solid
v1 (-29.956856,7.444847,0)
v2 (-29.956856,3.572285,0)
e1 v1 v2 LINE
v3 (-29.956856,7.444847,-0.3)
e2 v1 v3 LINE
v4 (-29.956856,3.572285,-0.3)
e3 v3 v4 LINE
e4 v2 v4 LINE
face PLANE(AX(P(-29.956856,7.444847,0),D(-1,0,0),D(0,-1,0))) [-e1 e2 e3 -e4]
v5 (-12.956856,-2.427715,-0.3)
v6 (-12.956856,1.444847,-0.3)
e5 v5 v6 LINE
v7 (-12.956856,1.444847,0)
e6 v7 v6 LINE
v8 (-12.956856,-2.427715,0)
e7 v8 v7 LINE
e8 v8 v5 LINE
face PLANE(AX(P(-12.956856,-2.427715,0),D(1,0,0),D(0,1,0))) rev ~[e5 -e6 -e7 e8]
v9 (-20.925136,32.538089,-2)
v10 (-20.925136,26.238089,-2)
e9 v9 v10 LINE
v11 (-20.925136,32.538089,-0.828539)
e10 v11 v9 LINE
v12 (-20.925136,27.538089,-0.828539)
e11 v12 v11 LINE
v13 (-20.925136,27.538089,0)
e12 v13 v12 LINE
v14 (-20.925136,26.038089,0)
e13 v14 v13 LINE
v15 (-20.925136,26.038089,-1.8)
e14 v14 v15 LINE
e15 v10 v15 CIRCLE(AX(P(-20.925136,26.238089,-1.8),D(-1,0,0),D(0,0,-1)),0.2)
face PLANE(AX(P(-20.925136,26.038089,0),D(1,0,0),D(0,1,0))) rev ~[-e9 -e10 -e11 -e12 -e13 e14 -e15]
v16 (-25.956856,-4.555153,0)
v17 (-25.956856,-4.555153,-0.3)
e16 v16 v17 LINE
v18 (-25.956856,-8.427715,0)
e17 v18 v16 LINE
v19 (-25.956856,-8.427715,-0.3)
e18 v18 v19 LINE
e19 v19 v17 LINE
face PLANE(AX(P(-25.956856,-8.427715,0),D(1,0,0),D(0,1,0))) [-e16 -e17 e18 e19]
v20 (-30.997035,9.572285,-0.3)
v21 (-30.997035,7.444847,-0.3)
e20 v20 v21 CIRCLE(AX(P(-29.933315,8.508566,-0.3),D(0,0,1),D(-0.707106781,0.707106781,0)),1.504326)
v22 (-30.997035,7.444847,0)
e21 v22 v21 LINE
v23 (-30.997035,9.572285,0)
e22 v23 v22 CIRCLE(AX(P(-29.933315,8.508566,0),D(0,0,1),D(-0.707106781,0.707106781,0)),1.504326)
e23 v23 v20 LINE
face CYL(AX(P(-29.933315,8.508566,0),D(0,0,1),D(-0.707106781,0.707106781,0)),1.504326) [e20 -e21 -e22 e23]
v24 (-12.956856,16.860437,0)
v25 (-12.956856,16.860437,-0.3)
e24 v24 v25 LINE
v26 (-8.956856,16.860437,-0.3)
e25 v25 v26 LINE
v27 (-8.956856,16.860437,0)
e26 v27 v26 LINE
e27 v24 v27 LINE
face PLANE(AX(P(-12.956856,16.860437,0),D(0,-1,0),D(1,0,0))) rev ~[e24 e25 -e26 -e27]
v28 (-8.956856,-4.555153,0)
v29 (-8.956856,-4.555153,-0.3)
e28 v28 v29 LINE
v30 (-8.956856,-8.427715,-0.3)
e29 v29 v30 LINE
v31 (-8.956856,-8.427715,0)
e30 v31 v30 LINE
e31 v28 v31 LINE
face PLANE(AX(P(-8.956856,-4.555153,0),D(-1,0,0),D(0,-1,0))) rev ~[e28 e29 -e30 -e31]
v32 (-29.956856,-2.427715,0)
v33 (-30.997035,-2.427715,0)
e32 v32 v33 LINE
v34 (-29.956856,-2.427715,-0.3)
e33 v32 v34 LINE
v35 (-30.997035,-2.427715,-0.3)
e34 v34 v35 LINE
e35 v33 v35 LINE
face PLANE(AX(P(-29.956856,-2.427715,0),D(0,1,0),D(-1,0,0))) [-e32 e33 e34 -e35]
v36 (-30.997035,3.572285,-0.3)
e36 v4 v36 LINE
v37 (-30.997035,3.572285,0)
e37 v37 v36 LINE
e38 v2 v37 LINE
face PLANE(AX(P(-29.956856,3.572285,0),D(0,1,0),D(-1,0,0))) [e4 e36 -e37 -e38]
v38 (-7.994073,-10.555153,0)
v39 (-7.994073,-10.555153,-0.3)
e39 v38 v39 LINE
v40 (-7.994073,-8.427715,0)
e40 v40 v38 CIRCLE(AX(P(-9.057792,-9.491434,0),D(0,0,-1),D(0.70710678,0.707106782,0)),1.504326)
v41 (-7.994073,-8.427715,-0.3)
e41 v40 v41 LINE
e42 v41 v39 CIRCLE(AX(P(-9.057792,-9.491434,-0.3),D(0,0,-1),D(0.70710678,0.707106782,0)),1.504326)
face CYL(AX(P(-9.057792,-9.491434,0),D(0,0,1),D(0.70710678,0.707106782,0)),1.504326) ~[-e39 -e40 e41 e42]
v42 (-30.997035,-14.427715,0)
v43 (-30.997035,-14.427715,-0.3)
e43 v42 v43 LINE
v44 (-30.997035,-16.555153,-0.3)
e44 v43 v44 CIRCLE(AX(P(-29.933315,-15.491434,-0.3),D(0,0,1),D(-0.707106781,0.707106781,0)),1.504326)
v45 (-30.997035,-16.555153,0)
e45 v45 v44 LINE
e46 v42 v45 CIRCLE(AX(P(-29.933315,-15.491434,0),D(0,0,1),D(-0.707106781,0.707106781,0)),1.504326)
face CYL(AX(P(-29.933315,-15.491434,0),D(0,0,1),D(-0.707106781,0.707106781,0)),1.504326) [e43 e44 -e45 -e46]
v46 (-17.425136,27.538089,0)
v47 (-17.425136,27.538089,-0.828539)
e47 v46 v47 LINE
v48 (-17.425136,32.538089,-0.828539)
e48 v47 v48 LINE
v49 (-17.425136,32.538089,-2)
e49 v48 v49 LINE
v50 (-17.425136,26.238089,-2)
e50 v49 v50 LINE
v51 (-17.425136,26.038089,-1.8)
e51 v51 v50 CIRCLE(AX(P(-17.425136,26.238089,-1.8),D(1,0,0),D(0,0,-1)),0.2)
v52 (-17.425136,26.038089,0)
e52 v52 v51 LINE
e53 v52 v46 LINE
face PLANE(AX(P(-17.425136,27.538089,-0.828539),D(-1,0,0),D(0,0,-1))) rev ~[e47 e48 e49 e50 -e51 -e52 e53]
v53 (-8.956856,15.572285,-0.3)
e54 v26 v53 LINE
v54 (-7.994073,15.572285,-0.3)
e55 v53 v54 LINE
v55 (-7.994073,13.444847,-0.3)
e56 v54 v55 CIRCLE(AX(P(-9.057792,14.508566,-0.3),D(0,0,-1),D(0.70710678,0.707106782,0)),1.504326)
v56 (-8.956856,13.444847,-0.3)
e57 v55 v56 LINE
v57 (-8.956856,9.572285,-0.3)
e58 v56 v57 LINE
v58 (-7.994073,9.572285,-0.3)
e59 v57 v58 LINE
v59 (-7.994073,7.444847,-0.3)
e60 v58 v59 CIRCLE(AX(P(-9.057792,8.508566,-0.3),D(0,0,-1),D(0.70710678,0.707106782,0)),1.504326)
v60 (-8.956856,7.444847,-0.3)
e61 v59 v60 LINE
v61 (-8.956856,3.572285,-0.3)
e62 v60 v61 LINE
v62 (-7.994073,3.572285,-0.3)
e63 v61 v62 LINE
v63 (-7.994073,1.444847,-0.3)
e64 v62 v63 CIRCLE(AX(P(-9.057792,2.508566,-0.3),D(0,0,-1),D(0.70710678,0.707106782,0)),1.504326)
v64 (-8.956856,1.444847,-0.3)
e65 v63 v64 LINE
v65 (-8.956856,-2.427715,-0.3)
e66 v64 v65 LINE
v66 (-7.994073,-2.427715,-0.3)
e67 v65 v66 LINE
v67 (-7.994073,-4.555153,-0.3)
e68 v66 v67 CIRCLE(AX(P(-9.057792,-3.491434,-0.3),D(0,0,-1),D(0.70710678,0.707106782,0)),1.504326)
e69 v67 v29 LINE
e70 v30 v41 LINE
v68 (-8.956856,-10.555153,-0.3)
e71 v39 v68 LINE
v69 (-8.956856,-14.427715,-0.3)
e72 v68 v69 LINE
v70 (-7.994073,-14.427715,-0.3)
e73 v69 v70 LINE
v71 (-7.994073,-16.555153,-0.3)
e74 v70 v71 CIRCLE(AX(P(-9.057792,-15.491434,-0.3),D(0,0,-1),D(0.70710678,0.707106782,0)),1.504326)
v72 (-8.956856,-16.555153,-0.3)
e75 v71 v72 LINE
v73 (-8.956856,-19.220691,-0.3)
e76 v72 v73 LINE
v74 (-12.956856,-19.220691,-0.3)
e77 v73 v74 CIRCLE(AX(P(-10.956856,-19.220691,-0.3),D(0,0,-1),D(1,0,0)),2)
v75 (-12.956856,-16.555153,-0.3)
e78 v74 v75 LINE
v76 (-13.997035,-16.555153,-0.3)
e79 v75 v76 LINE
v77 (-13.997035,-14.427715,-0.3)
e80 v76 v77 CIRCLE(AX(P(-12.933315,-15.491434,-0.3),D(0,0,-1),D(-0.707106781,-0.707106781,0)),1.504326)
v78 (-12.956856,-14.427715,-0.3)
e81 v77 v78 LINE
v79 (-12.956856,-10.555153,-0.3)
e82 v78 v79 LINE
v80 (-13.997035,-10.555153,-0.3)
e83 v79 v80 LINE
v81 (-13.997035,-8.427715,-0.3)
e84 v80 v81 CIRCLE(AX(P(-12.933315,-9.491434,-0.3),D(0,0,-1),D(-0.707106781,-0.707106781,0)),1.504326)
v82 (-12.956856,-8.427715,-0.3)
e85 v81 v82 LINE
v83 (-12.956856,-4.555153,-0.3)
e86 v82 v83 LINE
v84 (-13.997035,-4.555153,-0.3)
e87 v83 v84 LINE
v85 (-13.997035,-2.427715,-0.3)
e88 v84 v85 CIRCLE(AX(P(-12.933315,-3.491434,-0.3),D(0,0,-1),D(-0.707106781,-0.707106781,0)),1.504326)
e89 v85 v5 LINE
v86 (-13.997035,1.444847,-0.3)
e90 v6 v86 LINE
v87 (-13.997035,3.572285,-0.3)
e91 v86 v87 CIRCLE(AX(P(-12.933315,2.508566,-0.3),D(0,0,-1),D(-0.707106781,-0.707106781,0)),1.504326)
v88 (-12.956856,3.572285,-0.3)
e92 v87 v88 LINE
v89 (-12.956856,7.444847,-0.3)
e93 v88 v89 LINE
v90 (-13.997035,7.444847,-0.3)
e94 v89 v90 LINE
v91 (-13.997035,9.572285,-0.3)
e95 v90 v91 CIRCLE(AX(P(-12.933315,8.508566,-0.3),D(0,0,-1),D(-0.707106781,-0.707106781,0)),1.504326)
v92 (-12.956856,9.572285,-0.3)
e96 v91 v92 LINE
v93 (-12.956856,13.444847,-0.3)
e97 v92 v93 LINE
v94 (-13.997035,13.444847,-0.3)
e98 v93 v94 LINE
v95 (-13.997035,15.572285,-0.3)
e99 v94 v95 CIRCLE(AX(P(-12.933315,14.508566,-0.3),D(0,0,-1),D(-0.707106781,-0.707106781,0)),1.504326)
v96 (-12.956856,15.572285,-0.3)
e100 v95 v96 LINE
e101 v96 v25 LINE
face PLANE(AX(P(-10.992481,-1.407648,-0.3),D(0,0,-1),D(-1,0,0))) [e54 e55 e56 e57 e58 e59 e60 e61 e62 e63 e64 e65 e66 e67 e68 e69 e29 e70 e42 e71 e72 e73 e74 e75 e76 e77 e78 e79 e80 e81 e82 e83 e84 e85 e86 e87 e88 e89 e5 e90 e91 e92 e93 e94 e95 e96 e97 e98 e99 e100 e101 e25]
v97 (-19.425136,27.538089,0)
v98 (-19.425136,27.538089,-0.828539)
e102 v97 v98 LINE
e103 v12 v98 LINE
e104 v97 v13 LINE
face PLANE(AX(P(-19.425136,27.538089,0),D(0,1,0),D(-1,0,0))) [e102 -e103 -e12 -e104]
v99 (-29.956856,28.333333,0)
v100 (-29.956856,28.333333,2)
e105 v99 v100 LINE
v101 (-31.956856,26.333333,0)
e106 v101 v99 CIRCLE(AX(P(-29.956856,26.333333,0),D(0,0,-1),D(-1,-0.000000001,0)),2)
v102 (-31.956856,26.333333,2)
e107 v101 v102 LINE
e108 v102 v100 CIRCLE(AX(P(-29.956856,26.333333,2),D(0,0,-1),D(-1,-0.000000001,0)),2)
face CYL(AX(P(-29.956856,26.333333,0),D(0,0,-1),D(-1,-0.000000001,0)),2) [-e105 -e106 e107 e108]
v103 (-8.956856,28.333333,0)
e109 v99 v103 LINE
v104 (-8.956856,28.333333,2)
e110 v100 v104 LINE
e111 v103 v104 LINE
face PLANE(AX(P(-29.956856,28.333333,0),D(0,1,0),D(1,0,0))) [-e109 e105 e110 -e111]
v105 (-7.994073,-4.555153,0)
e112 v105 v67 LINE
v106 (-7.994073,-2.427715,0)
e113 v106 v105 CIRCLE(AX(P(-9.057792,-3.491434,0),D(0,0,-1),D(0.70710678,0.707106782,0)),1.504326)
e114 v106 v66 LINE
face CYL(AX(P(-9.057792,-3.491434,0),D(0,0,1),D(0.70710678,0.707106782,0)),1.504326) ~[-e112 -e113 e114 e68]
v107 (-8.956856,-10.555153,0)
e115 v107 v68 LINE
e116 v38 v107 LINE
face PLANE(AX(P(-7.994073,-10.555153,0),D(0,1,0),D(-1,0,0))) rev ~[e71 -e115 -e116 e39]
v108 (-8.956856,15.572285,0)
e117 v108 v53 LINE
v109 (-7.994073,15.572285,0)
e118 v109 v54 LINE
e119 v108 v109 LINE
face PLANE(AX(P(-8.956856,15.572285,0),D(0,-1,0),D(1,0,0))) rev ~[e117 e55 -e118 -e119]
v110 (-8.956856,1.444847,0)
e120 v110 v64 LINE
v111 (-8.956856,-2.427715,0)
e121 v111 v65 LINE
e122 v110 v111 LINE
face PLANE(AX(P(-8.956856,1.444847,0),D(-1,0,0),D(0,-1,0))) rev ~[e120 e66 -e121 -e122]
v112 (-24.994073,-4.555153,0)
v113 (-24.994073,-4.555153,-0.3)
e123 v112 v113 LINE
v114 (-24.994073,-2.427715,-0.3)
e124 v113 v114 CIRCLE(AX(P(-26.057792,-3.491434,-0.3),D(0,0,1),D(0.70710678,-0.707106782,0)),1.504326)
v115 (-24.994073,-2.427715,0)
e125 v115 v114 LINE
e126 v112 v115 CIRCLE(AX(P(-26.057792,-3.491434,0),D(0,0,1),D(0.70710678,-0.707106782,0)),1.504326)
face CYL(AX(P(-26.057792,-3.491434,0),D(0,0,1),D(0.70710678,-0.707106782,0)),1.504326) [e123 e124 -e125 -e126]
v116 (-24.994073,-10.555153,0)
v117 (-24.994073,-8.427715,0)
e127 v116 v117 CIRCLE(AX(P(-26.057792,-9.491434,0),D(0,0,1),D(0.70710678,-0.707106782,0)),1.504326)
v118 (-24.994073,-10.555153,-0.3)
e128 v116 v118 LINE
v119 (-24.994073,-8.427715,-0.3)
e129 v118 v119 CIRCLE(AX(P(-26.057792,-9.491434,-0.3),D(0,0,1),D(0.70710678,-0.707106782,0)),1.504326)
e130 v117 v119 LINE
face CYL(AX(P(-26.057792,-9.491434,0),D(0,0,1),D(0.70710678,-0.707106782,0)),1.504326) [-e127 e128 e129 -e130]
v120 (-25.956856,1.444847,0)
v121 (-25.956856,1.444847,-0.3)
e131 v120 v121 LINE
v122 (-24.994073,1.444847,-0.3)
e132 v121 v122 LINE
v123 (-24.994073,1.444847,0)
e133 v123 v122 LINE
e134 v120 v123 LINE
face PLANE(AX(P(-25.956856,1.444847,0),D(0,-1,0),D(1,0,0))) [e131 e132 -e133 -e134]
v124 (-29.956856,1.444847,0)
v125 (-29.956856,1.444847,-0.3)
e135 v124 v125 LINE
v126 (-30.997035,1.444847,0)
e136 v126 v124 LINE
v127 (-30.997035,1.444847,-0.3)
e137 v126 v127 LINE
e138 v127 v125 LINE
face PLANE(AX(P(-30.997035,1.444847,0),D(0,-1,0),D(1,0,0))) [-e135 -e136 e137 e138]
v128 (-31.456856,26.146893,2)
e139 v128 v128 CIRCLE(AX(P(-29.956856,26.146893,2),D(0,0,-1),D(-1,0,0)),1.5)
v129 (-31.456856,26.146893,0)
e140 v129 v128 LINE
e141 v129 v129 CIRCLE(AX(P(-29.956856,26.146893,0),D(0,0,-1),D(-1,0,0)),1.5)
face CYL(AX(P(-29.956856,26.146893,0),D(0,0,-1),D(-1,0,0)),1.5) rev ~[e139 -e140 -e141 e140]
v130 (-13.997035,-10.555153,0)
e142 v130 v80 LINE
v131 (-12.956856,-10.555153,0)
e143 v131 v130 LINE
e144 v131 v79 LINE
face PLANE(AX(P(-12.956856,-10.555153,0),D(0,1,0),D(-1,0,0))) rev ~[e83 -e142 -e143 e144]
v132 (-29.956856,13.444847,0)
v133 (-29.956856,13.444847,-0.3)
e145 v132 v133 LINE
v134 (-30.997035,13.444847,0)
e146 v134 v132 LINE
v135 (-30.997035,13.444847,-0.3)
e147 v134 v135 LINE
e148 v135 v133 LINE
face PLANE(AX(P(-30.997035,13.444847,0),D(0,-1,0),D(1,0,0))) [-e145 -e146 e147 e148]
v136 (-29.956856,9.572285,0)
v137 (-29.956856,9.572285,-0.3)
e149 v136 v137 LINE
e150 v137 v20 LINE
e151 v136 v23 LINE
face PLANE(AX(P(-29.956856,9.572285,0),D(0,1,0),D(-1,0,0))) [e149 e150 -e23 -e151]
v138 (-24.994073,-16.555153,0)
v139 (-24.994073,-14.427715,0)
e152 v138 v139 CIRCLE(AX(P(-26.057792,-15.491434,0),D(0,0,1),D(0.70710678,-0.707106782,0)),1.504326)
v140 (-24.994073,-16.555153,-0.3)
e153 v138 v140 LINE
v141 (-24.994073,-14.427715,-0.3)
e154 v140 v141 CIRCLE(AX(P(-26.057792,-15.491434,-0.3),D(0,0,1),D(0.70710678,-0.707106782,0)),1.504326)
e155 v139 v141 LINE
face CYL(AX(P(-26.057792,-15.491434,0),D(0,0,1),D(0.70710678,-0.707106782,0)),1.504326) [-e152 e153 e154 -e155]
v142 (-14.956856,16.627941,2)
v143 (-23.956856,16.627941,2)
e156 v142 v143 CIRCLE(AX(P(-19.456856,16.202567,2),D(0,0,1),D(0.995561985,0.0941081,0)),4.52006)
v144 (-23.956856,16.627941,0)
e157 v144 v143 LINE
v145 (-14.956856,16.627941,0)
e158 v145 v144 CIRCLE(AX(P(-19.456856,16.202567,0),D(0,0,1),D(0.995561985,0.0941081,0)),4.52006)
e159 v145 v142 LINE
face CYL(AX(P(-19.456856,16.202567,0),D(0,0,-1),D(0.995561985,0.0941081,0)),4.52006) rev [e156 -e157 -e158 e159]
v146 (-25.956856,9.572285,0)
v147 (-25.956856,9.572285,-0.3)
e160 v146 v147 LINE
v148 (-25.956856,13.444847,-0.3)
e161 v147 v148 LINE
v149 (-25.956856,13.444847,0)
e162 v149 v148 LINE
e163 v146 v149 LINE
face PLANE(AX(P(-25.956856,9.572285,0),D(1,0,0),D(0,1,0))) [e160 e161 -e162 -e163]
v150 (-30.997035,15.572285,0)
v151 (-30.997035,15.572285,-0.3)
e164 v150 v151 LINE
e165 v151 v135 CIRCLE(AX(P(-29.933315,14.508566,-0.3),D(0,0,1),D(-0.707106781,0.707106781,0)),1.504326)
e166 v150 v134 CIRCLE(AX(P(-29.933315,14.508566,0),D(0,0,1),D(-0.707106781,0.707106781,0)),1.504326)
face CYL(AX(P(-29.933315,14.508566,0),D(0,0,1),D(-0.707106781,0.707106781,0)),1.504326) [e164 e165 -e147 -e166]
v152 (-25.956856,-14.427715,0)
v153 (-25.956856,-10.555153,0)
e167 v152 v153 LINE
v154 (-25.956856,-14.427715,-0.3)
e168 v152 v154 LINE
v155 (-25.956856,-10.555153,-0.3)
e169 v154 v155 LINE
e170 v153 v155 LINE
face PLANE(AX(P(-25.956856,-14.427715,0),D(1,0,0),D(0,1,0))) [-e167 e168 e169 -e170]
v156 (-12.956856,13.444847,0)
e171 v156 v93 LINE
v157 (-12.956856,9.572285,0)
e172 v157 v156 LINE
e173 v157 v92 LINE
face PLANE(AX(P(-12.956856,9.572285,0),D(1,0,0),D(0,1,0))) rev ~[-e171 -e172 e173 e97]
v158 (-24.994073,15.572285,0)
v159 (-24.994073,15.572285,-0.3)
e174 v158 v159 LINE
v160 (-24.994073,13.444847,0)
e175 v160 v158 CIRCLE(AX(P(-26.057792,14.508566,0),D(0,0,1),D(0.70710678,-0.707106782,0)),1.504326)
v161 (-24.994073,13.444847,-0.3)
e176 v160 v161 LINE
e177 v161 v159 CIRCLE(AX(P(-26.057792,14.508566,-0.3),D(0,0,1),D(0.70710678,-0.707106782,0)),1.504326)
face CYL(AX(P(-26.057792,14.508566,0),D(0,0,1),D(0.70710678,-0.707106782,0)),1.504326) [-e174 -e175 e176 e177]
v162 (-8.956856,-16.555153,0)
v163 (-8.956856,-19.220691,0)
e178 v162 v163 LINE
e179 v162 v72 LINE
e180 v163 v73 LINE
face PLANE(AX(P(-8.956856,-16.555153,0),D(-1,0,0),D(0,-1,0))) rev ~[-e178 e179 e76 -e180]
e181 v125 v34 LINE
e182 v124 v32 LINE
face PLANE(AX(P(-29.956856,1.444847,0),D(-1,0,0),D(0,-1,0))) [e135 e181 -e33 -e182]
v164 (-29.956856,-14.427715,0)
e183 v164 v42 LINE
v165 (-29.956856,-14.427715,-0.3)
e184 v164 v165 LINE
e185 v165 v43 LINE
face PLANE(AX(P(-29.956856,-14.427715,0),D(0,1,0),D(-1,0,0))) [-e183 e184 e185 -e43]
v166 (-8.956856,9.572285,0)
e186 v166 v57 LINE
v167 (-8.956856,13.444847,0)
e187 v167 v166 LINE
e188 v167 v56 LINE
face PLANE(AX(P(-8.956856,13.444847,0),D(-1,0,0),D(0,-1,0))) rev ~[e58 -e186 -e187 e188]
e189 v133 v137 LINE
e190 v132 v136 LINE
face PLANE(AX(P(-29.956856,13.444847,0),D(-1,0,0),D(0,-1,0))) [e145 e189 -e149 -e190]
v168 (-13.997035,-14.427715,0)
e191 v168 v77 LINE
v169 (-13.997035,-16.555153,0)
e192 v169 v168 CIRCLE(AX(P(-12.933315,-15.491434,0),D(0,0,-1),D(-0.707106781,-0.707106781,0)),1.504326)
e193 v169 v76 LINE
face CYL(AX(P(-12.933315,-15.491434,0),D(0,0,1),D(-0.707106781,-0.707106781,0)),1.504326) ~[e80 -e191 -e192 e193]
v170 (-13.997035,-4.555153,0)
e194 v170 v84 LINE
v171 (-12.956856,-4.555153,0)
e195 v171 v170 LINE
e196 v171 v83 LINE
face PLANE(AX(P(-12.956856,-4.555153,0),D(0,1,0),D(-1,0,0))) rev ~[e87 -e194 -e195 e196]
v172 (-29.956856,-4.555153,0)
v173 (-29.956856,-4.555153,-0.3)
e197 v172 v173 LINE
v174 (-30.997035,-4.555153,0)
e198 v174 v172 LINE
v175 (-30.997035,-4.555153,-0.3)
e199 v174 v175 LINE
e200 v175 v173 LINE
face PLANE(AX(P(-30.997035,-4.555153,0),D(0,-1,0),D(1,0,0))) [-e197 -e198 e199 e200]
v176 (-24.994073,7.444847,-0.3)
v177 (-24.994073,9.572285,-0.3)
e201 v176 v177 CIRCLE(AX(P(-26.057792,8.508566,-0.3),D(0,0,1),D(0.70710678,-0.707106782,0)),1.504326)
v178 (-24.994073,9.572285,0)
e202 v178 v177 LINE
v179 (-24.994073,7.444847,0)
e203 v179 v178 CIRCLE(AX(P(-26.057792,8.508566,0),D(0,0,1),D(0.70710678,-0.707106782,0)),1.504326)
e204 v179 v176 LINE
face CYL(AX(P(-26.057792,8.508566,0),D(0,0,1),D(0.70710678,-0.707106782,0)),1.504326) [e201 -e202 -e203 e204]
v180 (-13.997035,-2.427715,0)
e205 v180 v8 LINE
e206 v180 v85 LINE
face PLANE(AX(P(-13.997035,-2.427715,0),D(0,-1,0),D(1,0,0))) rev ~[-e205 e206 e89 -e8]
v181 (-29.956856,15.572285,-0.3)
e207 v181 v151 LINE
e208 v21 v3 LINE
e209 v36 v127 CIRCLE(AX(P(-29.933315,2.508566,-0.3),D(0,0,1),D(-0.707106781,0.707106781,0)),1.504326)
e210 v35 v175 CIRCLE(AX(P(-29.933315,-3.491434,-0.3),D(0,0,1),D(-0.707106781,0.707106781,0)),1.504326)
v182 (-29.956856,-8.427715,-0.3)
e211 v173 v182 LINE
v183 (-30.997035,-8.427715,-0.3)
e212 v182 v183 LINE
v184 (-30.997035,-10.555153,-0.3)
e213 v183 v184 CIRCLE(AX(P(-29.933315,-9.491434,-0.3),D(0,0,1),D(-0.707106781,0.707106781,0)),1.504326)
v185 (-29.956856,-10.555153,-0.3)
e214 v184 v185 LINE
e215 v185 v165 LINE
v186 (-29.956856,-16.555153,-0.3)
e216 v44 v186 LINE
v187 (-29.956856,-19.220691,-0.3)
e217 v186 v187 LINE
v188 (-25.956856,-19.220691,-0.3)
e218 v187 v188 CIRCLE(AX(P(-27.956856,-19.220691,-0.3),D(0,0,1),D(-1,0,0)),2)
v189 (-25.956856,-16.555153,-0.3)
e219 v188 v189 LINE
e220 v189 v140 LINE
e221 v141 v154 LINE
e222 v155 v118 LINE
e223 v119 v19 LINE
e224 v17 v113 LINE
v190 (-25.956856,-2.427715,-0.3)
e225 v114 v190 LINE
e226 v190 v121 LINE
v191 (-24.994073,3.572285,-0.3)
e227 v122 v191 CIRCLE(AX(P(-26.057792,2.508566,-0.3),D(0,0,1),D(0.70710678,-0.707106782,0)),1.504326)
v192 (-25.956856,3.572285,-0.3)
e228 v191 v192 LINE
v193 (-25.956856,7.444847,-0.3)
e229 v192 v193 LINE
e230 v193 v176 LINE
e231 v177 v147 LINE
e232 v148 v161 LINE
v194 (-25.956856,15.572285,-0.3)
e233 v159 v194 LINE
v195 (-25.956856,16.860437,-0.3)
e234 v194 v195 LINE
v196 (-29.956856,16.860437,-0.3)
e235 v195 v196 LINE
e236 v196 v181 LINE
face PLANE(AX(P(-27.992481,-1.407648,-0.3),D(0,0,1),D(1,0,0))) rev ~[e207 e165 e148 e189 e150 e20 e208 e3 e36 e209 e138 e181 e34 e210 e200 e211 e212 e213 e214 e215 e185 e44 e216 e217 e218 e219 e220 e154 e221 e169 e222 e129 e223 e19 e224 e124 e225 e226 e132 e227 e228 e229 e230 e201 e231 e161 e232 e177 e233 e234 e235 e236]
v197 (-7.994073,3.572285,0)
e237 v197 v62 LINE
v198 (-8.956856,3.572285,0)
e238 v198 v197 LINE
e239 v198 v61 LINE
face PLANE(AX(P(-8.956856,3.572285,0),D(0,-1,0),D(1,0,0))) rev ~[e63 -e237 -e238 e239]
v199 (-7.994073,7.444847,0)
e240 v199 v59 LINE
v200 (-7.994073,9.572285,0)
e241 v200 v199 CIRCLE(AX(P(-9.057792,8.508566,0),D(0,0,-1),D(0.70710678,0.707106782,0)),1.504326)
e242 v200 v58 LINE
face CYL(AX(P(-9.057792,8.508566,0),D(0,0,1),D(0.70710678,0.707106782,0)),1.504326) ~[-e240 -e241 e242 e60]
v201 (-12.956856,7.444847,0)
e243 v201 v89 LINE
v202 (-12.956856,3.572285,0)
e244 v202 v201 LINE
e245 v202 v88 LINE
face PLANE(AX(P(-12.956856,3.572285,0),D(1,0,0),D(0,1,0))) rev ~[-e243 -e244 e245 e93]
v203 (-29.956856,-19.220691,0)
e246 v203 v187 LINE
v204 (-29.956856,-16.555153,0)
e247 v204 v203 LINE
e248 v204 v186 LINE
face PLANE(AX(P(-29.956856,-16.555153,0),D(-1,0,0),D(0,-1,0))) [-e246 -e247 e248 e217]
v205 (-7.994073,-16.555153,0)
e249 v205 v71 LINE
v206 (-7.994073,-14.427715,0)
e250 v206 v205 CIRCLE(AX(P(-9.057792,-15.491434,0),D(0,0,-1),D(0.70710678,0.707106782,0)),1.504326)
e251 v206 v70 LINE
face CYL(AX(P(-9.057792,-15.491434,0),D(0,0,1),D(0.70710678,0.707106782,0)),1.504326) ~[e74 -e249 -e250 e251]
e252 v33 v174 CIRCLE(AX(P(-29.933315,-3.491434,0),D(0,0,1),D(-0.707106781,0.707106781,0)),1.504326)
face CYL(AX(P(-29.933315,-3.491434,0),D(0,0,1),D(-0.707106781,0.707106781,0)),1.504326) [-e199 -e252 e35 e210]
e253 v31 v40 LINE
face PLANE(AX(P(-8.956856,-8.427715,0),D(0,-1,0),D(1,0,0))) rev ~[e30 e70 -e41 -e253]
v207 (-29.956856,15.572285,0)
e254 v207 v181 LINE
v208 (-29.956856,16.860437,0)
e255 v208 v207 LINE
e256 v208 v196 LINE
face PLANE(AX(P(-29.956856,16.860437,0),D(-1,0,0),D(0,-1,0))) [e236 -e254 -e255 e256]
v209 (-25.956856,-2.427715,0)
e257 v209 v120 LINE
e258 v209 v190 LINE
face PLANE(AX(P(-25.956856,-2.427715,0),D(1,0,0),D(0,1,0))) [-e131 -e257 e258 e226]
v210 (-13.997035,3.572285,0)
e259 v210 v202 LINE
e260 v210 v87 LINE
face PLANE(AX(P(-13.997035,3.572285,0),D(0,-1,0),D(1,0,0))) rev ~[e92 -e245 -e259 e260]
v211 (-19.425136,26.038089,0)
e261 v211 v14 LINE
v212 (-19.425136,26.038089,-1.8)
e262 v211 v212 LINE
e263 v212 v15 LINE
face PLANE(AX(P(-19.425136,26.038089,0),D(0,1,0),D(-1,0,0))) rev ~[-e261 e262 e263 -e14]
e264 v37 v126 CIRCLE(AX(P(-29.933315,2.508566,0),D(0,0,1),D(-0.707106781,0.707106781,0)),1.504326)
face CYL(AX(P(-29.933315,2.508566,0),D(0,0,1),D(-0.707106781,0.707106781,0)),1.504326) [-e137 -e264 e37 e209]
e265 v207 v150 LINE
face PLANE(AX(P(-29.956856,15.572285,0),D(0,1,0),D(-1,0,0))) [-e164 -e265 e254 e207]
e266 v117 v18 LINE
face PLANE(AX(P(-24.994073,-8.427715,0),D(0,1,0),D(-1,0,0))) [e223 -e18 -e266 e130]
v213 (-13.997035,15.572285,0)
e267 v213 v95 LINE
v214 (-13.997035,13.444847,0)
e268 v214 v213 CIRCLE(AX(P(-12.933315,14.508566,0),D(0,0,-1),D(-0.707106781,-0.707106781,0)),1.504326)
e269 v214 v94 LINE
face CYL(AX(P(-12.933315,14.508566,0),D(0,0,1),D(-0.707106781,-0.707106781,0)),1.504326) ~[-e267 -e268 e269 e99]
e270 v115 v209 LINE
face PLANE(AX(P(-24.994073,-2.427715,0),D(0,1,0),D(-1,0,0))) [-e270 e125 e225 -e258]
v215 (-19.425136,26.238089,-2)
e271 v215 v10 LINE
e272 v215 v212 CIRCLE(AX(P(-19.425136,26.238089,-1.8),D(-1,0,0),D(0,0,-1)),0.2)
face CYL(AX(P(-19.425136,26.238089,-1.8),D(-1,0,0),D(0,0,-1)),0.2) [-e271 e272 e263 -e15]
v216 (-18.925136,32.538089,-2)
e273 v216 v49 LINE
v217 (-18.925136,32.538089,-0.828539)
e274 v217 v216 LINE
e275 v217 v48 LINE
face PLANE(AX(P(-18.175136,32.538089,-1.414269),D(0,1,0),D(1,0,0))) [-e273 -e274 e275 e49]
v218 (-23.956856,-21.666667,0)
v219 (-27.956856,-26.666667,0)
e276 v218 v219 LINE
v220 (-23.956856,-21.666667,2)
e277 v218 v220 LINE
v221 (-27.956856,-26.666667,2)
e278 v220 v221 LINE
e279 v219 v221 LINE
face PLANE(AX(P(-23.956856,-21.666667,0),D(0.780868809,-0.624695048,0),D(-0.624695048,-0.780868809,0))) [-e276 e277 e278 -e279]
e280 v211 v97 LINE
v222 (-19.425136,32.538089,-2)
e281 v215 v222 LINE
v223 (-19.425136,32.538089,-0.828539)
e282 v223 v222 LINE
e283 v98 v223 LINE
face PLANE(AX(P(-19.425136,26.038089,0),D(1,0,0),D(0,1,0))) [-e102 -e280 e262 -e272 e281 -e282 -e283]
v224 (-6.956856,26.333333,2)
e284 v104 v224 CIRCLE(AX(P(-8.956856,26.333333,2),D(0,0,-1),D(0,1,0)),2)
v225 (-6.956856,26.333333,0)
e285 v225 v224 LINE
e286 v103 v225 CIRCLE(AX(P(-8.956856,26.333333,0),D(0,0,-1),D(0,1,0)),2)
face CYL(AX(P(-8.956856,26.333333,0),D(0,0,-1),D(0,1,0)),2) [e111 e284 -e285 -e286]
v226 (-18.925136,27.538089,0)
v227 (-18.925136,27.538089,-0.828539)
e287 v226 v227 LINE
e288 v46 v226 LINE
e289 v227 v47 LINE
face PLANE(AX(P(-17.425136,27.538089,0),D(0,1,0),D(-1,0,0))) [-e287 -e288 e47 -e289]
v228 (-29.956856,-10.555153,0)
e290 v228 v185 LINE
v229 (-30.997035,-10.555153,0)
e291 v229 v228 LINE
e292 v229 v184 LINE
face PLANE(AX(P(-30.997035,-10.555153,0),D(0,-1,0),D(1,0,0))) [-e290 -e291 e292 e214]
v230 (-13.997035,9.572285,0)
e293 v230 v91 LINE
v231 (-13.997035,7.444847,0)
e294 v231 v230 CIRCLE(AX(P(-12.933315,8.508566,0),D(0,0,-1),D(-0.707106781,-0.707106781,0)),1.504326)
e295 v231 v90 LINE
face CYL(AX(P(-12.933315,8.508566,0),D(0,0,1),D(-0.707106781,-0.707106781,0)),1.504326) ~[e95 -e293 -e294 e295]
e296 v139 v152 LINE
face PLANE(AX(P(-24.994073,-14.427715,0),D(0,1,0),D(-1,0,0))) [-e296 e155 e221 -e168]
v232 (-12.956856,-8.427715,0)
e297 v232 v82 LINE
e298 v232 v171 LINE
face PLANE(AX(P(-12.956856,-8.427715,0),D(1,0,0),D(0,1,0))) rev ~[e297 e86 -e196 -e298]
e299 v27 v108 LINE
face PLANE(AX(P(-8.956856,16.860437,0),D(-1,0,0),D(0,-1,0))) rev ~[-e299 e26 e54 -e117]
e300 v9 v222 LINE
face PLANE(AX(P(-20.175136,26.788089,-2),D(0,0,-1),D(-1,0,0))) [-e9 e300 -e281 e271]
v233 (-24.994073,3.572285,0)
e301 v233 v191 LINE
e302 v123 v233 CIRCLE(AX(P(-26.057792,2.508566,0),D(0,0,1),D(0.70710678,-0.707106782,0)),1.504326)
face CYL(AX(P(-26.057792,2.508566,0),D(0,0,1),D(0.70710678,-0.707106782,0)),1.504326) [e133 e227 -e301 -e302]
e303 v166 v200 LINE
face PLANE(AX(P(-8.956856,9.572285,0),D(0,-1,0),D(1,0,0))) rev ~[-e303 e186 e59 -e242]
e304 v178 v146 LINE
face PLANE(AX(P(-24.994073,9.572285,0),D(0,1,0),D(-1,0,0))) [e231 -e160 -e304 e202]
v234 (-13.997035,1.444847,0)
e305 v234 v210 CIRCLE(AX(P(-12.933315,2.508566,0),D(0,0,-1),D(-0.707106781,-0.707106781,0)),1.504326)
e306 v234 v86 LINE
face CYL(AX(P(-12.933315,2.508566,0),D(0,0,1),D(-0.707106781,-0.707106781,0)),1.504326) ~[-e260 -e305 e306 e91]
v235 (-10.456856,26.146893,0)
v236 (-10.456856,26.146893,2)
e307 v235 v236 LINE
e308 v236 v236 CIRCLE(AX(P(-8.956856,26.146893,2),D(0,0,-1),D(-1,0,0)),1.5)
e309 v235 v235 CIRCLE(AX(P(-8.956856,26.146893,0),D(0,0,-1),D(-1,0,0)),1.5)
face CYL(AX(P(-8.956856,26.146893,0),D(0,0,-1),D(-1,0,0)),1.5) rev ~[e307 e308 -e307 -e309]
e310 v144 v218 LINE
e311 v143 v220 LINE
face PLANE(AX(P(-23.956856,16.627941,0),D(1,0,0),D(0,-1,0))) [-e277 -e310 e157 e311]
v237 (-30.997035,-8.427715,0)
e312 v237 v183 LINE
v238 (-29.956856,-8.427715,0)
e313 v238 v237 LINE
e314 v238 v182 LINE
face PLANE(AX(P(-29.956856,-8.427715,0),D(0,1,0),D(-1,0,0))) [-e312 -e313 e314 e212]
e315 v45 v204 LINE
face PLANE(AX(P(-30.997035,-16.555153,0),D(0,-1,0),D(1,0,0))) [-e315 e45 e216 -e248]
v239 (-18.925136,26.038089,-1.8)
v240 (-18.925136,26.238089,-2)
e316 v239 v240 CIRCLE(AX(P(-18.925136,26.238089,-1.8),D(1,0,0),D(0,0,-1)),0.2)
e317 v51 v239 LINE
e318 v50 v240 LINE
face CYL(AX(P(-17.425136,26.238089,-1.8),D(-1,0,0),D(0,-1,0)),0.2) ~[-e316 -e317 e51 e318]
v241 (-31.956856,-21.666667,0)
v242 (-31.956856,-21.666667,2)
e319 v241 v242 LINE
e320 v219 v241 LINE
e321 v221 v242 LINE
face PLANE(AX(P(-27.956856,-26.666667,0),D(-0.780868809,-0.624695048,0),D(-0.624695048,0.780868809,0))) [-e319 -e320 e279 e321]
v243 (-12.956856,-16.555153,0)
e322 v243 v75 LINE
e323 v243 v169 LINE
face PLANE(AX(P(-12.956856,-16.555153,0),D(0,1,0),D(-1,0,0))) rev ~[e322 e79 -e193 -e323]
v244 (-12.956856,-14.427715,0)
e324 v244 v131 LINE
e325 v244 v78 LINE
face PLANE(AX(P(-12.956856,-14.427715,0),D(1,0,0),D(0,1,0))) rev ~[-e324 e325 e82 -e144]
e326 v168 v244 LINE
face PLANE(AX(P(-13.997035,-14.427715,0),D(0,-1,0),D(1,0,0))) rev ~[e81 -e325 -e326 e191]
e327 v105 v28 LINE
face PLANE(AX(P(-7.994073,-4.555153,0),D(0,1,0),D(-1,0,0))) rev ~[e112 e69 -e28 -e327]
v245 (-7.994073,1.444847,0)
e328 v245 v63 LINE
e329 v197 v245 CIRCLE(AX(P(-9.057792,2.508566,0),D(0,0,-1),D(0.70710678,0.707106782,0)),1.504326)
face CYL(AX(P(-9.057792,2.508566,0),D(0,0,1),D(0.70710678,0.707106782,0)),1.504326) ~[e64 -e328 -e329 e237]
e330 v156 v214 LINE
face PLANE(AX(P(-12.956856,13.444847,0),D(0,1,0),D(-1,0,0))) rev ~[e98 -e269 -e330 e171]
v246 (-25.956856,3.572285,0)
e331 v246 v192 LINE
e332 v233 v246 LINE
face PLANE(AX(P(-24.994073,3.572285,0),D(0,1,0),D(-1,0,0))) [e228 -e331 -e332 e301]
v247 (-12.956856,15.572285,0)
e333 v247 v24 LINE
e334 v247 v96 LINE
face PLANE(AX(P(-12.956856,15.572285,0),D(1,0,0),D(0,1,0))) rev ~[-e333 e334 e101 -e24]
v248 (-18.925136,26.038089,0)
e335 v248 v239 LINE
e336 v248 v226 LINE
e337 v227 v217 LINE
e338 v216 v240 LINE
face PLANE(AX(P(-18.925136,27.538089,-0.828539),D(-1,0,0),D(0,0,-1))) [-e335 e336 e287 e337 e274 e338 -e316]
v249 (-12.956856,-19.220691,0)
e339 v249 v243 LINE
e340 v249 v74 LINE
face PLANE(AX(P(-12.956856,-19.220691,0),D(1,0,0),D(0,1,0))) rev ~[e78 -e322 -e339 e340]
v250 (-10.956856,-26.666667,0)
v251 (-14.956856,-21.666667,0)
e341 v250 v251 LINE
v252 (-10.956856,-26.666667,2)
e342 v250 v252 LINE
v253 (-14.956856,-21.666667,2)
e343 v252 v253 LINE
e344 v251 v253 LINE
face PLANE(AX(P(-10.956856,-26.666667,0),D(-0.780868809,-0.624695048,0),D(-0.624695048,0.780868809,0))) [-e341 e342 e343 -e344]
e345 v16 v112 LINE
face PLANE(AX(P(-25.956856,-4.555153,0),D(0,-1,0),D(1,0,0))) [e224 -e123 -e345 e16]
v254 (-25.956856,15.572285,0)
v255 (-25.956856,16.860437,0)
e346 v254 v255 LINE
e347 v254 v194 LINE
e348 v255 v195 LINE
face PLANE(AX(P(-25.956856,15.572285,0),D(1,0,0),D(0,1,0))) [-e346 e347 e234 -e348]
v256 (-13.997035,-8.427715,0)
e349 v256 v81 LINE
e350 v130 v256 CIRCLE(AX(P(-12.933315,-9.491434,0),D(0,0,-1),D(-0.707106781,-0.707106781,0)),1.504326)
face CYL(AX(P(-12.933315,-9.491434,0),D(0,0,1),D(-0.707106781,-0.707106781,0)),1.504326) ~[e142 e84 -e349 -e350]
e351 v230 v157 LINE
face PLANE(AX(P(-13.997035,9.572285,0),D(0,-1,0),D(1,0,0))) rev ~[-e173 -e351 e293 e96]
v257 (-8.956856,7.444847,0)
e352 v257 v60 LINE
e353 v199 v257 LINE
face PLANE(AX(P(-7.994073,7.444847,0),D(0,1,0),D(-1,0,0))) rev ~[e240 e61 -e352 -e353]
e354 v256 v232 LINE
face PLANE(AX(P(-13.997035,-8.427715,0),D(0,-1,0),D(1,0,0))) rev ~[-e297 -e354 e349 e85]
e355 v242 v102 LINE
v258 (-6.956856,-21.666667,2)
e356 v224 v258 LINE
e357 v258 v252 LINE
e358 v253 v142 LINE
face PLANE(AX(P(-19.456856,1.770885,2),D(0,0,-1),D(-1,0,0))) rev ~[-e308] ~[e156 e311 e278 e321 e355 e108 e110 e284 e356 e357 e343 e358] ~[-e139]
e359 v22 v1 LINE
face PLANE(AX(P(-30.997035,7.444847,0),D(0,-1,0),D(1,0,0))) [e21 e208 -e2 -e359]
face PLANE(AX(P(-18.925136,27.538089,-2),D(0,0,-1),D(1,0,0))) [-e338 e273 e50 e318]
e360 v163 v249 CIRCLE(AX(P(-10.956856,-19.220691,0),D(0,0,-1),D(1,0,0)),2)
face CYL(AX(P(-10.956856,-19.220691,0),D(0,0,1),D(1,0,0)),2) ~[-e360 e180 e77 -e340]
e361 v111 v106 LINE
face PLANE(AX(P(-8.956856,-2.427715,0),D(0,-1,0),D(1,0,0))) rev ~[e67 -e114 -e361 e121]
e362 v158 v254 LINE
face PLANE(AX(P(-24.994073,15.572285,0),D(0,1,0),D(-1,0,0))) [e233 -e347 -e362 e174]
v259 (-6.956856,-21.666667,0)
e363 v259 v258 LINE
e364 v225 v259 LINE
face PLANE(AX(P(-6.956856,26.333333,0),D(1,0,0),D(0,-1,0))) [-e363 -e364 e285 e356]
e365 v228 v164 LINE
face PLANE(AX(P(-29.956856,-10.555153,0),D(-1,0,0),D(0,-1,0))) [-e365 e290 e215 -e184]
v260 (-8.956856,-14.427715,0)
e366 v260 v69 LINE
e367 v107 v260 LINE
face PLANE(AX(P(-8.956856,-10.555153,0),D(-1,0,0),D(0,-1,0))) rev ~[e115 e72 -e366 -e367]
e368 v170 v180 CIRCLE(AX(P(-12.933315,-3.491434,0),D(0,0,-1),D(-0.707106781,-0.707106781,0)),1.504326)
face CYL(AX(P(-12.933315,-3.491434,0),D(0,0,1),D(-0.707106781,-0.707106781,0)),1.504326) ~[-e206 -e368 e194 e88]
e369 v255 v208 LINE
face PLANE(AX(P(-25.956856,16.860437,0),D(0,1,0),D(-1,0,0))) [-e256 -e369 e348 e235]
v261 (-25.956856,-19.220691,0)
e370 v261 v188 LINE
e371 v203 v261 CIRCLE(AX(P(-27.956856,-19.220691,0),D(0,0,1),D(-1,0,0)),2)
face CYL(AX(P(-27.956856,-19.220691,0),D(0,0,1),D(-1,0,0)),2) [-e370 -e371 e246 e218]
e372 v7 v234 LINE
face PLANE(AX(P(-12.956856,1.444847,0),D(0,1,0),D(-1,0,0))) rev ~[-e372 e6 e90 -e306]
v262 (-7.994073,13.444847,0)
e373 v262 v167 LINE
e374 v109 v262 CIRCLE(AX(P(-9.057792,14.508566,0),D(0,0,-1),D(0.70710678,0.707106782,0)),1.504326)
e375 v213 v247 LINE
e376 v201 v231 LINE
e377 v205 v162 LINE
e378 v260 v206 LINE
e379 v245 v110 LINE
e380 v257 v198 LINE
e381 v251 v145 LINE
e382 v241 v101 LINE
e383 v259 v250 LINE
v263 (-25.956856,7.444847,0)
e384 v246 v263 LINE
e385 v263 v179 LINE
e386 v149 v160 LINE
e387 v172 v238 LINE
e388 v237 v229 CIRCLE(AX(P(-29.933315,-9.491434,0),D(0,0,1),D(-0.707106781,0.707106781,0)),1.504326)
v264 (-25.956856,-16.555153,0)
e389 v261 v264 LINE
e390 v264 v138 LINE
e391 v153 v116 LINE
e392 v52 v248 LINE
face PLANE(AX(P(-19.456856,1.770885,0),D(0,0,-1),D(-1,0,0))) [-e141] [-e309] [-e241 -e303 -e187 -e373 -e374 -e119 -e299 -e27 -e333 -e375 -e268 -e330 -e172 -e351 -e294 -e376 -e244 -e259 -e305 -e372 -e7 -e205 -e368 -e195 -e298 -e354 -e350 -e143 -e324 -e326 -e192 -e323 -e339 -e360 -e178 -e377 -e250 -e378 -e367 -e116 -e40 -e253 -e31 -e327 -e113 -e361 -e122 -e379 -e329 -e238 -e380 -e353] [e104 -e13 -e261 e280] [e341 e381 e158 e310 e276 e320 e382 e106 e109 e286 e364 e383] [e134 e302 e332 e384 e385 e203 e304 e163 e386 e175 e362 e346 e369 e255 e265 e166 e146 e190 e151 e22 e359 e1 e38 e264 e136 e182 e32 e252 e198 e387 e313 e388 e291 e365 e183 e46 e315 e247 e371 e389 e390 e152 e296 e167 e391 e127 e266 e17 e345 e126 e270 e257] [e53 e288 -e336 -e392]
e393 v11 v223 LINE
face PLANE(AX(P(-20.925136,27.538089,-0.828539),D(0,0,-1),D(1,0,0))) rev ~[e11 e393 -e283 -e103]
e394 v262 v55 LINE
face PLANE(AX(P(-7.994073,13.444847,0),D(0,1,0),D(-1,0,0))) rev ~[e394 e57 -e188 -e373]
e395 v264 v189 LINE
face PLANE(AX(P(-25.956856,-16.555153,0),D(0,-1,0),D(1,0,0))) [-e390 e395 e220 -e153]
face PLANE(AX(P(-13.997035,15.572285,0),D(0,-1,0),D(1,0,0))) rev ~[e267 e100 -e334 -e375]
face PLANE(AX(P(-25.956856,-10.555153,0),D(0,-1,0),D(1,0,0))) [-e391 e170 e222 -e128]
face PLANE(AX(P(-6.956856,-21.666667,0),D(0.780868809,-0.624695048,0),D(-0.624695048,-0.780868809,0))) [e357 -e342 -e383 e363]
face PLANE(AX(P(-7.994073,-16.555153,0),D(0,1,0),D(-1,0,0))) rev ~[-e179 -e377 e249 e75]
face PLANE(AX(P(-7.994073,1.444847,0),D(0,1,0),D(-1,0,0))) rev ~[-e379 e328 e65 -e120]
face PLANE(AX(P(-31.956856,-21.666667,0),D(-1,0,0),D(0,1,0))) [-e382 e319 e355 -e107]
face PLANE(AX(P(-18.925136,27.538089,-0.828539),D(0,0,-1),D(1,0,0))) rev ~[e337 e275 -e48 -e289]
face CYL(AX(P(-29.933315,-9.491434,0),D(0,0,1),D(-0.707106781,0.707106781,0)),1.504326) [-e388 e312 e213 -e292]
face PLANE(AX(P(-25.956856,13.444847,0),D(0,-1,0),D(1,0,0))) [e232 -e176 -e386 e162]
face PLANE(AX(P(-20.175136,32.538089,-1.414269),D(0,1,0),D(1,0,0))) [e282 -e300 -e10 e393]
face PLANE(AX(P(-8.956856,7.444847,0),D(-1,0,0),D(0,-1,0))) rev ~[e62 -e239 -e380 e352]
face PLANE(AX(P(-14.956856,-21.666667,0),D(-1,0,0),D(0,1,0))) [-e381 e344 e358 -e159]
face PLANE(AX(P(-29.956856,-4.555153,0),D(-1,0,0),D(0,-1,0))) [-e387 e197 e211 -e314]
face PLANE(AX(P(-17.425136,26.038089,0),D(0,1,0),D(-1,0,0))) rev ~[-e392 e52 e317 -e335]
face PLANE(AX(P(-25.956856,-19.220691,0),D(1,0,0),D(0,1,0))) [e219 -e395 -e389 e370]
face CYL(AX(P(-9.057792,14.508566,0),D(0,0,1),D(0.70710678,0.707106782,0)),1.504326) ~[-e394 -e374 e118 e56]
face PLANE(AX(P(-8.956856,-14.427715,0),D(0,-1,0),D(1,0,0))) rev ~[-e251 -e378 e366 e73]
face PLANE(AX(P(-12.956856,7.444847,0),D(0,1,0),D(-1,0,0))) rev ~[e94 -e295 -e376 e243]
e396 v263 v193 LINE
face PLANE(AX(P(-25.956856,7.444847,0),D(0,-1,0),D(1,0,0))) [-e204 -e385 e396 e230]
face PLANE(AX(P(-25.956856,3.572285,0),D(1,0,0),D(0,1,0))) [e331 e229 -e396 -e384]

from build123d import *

# Parameters (mm, degrees)
BOSS_EXTRUDE1_DEPTH = 2
CUT_EXTRUDE1_REACH  = 44.755
SKETCH2_R           = 1.5
SKETCH3_W           = 1.5
SKETCH3_H           = 1.5
BOSS_EXTRUDE2_DEPTH = 2
SKETCH6_W           = 1.5
SKETCH6_H           = 1.17146139
BOSS_EXTRUDE5_DEPTH = 5
FILLET1_R           = 0.2
BOSS_EXTRUDE6_DEPTH = 0.3


with BuildPart() as part:
    # Sketch1 → Boss-Extrude1 (new body)
    with BuildSketch(Plane.XY):
        with BuildLine():
            Line((-31.956856316, -21.666666667), (-31.956856316, 26.333333333))
            ThreePointArc((-31.956856316, 26.333333333), (-31.371069879, 27.747546896), (-29.956856316, 28.333333333))
            Line((-29.956856316, 28.333333333), (-8.956856316, 28.333333333))
            ThreePointArc((-8.956856316, 28.333333333), (-7.542642754, 27.747546896), (-6.956856316, 26.333333333))
            Line((-6.956856316, 26.333333333), (-6.956856316, -21.666666667))
            Line((-6.956856316, -21.666666667), (-10.956856316, -26.666666667))
            Line((-10.956856316, -26.666666667), (-14.956856316, -21.666666667))
            Line((-14.956856316, -21.666666667), (-14.956856316, 16.627941441))
            ThreePointArc((-14.956856316, 16.627941441), (-19.456856316, 20.722627268), (-23.956856316, 16.627941441))
            Line((-23.956856316, 16.627941441), (-23.956856316, -21.666666667))
            Line((-23.956856316, -21.666666667), (-27.956856316, -26.666666667))
            Line((-27.956856316, -26.666666667), (-31.956856316, -21.666666667))
        make_face()
    extrude(amount=BOSS_EXTRUDE1_DEPTH)

    # Sketch2 → Cut-Extrude1 (cut, up to next)
    with BuildSketch(Plane(origin=(0, 0, 0), x_dir=(-1, 0, 0), z_dir=(0, 0, -1)), mode=Mode.PRIVATE) as cut_extrude1_sk1:
        with Locations((8.956856316, 26.146893442)):
            Circle(SKETCH2_R)
    cut_extrude1_tool1 = extrude(cut_extrude1_sk1.sketch, amount=-CUT_EXTRUDE1_REACH, mode=Mode.PRIVATE) & part.part
    # Sketch2 → Cut-Extrude1 (cut, up to next)
    with BuildSketch(Plane(origin=(0, 0, 0), x_dir=(-1, 0, 0), z_dir=(0, 0, -1)), mode=Mode.PRIVATE) as cut_extrude1_sk2:
        with Locations((29.956856316, 26.146893442)):
            Circle(SKETCH2_R)
    cut_extrude1_tool2 = extrude(cut_extrude1_sk2.sketch, amount=-CUT_EXTRUDE1_REACH, mode=Mode.PRIVATE) & part.part
    add(cut_extrude1_tool1.solids().sort_by_distance((-8.956856, 26.146893, 0))[0], mode=Mode.SUBTRACT)
    add(cut_extrude1_tool2.solids().sort_by_distance((-29.956856, 26.146893, 0))[0], mode=Mode.SUBTRACT)

    # Sketch3 → Boss-Extrude2 (add)
    with BuildSketch(Plane(origin=(0, 0, 0), x_dir=(-1, 0, 0), z_dir=(0, 0, -1))):
        with Locations((20.175136294, 26.788088759)):
            Rectangle(SKETCH3_W, SKETCH3_H)
        with Locations((18.175136294, 26.788088759)):
            Rectangle(SKETCH3_W, SKETCH3_H)
    extrude(amount=BOSS_EXTRUDE2_DEPTH)

    # Sketch6 → Boss-Extrude5 (add)
    with BuildSketch(Plane(origin=(0, 27.538088759, 0), x_dir=(1, 0, 0), z_dir=(0, 1, 0))):
        with Locations((-18.175136294, 1.414269305)):
            Rectangle(SKETCH6_W, SKETCH6_H)
        with Locations((-20.175136294, 1.414269305)):
            Rectangle(SKETCH6_W, SKETCH6_H)
    extrude(amount=BOSS_EXTRUDE5_DEPTH)

    # Fillet1
    fillet1_edges = [part.edges().sort_by_distance(p)[0] for p in [
        (-18.175136294, 26.038088759, -2),
        (-20.175136294, 26.038088759, -2),
    ]]
    fillet(fillet1_edges, radius=FILLET1_R)

    # Sketch7 → Boss-Extrude6 (add)
    with BuildSketch(Plane(origin=(0, 0, 0), x_dir=(-1, 0, 0), z_dir=(0, 0, -1))):
        with BuildLine():
            Line((8.956856316, 16.860436634), (8.956856316, 15.572285455))
            Line((8.956856316, 15.572285455), (7.994072914, 15.572285455))
            ThreePointArc((7.994072914, 15.572285455), (7.553465888, 14.508565999), (7.994072914, 13.444846543))
            Line((7.994072914, 13.444846543), (8.956856316, 13.444846543))
            Line((8.956856316, 13.444846543), (8.956856316, 9.572285455))
            Line((8.956856316, 9.572285455), (7.994072914, 9.572285455))
            ThreePointArc((7.994072914, 9.572285455), (7.553465888, 8.508565999), (7.994072914, 7.444846543))
            Line((7.994072914, 7.444846543), (8.956856316, 7.444846543))
            Line((8.956856316, 7.444846543), (8.956856316, 3.572285455))
            Line((8.956856316, 3.572285455), (7.994072914, 3.572285455))
            ThreePointArc((7.994072914, 3.572285455), (7.553465888, 2.508565999), (7.994072914, 1.444846543))
            Line((7.994072914, 1.444846543), (8.956856316, 1.444846543))
            Line((8.956856316, 1.444846543), (8.956856316, -2.427714545))
            Line((8.956856316, -2.427714545), (7.994072914, -2.427714545))
            ThreePointArc((7.994072914, -2.427714545), (7.553465888, -3.491434001), (7.994072914, -4.555153457))
            Line((7.994072914, -4.555153457), (8.956856316, -4.555153457))
            Line((8.956856316, -4.555153457), (8.956856316, -8.427714545))
            Line((8.956856316, -8.427714545), (7.994072914, -8.427714545))
            ThreePointArc((7.994072914, -8.427714545), (7.553465888, -9.491434001), (7.994072914, -10.555153457))
            Line((7.994072914, -10.555153457), (8.956856316, -10.555153457))
            Line((8.956856316, -10.555153457), (8.956856316, -14.427714545))
            Line((8.956856316, -14.427714545), (7.994072914, -14.427714545))
            ThreePointArc((7.994072914, -14.427714545), (7.553465888, -15.491434001), (7.994072914, -16.555153457))
            Line((7.994072914, -16.555153457), (8.956856316, -16.555153457))
            Line((8.956856316, -16.555153457), (8.956856316, -19.220690879))
            ThreePointArc((8.956856316, -19.220690879), (10.956856316, -21.220690879), (12.956856316, -19.220690879))
            Line((12.956856316, -19.220690879), (12.956856316, -16.555153457))
            Line((12.956856316, -16.555153457), (13.997034927, -16.555153457))
            ThreePointArc((13.997034927, -16.555153457), (14.437641952, -15.491434001), (13.997034927, -14.427714545))
            Line((13.997034927, -14.427714545), (12.956856316, -14.427714545))
            Line((12.956856316, -14.427714545), (12.956856316, -10.555153457))
            Line((12.956856316, -10.555153457), (13.997034927, -10.555153457))
            ThreePointArc((13.997034927, -10.555153457), (14.437641952, -9.491434001), (13.997034927, -8.427714545))
            Line((13.997034927, -8.427714545), (12.956856316, -8.427714545))
            Line((12.956856316, -8.427714545), (12.956856316, -4.555153457))
            Line((12.956856316, -4.555153457), (13.997034927, -4.555153457))
            ThreePointArc((13.997034927, -4.555153457), (14.437641952, -3.491434001), (13.997034927, -2.427714545))
            Line((13.997034927, -2.427714545), (12.956856316, -2.427714545))
            Line((12.956856316, -2.427714545), (12.956856316, 1.444846543))
            Line((12.956856316, 1.444846543), (13.997034927, 1.444846543))
            ThreePointArc((13.997034927, 1.444846543), (14.437641952, 2.508565999), (13.997034927, 3.572285455))
            Line((13.997034927, 3.572285455), (12.956856316, 3.572285455))
            Line((12.956856316, 3.572285455), (12.956856316, 7.444846543))
            Line((12.956856316, 7.444846543), (13.997034927, 7.444846543))
            ThreePointArc((13.997034927, 7.444846543), (14.437641952, 8.508565999), (13.997034927, 9.572285455))
            Line((13.997034927, 9.572285455), (12.956856316, 9.572285455))
            Line((12.956856316, 9.572285455), (12.956856316, 13.444846543))
            Line((12.956856316, 13.444846543), (13.997034927, 13.444846543))
            ThreePointArc((13.997034927, 13.444846543), (14.437641952, 14.508565999), (13.997034927, 15.572285455))
            Line((13.997034927, 15.572285455), (12.956856316, 15.572285455))
            Line((12.956856316, 15.572285455), (12.956856316, 16.860436634))
            Line((12.956856316, 16.860436634), (8.956856316, 16.860436634))
        make_face()
        with BuildLine():
            Line((30.997034927, -16.555153457), (29.956856316, -16.555153457))
            Line((29.956856316, -16.555153457), (29.956856316, -19.220690879))
            ThreePointArc((29.956856316, -19.220690879), (27.956856316, -21.220690879), (25.956856316, -19.220690879))
            Line((25.956856316, -19.220690879), (25.956856316, -16.555153457))
            Line((25.956856316, -16.555153457), (24.994072914, -16.555153457))
            ThreePointArc((24.994072914, -16.555153457), (24.553465888, -15.491434001), (24.994072914, -14.427714545))
            Line((24.994072914, -14.427714545), (25.956856316, -14.427714545))
            Line((25.956856316, -14.427714545), (25.956856316, -10.555153457))
            Line((25.956856316, -10.555153457), (24.994072914, -10.555153457))
            ThreePointArc((24.994072914, -10.555153457), (24.553465888, -9.491434001), (24.994072914, -8.427714545))
            Line((24.994072914, -8.427714545), (25.956856316, -8.427714545))
            Line((25.956856316, -8.427714545), (25.956856316, -4.555153457))
            Line((25.956856316, -4.555153457), (24.994072914, -4.555153457))
            ThreePointArc((24.994072914, -4.555153457), (24.553465888, -3.491434001), (24.994072914, -2.427714545))
            Line((24.994072914, -2.427714545), (25.956856316, -2.427714545))
            Line((25.956856316, -2.427714545), (25.956856316, 1.444846543))
            Line((25.956856316, 1.444846543), (24.994072914, 1.444846543))
            ThreePointArc((24.994072914, 1.444846543), (24.553465888, 2.508565999), (24.994072914, 3.572285455))
            Line((24.994072914, 3.572285455), (25.956856316, 3.572285455))
            Line((25.956856316, 3.572285455), (25.956856316, 7.444846543))
            Line((25.956856316, 7.444846543), (24.994072914, 7.444846543))
            ThreePointArc((24.994072914, 7.444846543), (24.553465888, 8.508565999), (24.994072914, 9.572285455))
            Line((24.994072914, 9.572285455), (25.956856316, 9.572285455))
            Line((25.956856316, 9.572285455), (25.956856316, 13.444846543))
            Line((25.956856316, 13.444846543), (24.994072914, 13.444846543))
            ThreePointArc((24.994072914, 13.444846543), (24.553465888, 14.508565999), (24.994072914, 15.572285455))
            Line((24.994072914, 15.572285455), (25.956856316, 15.572285455))
            Line((25.956856316, 15.572285455), (25.956856316, 16.860436634))
            Line((25.956856316, 16.860436634), (29.956856316, 16.860436634))
            Line((29.956856316, 16.860436634), (29.956856316, 15.572285455))
            Line((29.956856316, 15.572285455), (30.997034927, 15.572285455))
            ThreePointArc((30.997034927, 15.572285455), (31.437641952, 14.508565999), (30.997034927, 13.444846543))
            Line((30.997034927, 13.444846543), (29.956856316, 13.444846543))
            Line((29.956856316, 13.444846543), (29.956856316, 9.572285455))
            Line((29.956856316, 9.572285455), (30.997034927, 9.572285455))
            ThreePointArc((30.997034927, 9.572285455), (31.437641952, 8.508565999), (30.997034927, 7.444846543))
            Line((30.997034927, 7.444846543), (29.956856316, 7.444846543))
            Line((29.956856316, 7.444846543), (29.956856316, 3.572285455))
            Line((29.956856316, 3.572285455), (30.997034927, 3.572285455))
            ThreePointArc((30.997034927, 3.572285455), (31.437641952, 2.508565999), (30.997034927, 1.444846543))
            Line((30.997034927, 1.444846543), (29.956856316, 1.444846543))
            Line((29.956856316, 1.444846543), (29.956856316, -2.427714545))
            Line((29.956856316, -2.427714545), (30.997034927, -2.427714545))
            ThreePointArc((30.997034927, -2.427714545), (31.437641952, -3.491434001), (30.997034927, -4.555153457))
            Line((30.997034927, -4.555153457), (29.956856316, -4.555153457))
            Line((29.956856316, -4.555153457), (29.956856316, -8.427714545))
            Line((29.956856316, -8.427714545), (30.997034927, -8.427714545))
            ThreePointArc((30.997034927, -8.427714545), (31.437641952, -9.491434001), (30.997034927, -10.555153457))
            Line((30.997034927, -10.555153457), (29.956856316, -10.555153457))
            Line((29.956856316, -10.555153457), (29.956856316, -14.427714545))
            Line((29.956856316, -14.427714545), (30.997034927, -14.427714545))
            ThreePointArc((30.997034927, -14.427714545), (31.437641952, -15.491434001), (30.997034927, -16.555153457))
        make_face()
    extrude(amount=BOSS_EXTRUDE6_DEPTH)


solid = part.part
